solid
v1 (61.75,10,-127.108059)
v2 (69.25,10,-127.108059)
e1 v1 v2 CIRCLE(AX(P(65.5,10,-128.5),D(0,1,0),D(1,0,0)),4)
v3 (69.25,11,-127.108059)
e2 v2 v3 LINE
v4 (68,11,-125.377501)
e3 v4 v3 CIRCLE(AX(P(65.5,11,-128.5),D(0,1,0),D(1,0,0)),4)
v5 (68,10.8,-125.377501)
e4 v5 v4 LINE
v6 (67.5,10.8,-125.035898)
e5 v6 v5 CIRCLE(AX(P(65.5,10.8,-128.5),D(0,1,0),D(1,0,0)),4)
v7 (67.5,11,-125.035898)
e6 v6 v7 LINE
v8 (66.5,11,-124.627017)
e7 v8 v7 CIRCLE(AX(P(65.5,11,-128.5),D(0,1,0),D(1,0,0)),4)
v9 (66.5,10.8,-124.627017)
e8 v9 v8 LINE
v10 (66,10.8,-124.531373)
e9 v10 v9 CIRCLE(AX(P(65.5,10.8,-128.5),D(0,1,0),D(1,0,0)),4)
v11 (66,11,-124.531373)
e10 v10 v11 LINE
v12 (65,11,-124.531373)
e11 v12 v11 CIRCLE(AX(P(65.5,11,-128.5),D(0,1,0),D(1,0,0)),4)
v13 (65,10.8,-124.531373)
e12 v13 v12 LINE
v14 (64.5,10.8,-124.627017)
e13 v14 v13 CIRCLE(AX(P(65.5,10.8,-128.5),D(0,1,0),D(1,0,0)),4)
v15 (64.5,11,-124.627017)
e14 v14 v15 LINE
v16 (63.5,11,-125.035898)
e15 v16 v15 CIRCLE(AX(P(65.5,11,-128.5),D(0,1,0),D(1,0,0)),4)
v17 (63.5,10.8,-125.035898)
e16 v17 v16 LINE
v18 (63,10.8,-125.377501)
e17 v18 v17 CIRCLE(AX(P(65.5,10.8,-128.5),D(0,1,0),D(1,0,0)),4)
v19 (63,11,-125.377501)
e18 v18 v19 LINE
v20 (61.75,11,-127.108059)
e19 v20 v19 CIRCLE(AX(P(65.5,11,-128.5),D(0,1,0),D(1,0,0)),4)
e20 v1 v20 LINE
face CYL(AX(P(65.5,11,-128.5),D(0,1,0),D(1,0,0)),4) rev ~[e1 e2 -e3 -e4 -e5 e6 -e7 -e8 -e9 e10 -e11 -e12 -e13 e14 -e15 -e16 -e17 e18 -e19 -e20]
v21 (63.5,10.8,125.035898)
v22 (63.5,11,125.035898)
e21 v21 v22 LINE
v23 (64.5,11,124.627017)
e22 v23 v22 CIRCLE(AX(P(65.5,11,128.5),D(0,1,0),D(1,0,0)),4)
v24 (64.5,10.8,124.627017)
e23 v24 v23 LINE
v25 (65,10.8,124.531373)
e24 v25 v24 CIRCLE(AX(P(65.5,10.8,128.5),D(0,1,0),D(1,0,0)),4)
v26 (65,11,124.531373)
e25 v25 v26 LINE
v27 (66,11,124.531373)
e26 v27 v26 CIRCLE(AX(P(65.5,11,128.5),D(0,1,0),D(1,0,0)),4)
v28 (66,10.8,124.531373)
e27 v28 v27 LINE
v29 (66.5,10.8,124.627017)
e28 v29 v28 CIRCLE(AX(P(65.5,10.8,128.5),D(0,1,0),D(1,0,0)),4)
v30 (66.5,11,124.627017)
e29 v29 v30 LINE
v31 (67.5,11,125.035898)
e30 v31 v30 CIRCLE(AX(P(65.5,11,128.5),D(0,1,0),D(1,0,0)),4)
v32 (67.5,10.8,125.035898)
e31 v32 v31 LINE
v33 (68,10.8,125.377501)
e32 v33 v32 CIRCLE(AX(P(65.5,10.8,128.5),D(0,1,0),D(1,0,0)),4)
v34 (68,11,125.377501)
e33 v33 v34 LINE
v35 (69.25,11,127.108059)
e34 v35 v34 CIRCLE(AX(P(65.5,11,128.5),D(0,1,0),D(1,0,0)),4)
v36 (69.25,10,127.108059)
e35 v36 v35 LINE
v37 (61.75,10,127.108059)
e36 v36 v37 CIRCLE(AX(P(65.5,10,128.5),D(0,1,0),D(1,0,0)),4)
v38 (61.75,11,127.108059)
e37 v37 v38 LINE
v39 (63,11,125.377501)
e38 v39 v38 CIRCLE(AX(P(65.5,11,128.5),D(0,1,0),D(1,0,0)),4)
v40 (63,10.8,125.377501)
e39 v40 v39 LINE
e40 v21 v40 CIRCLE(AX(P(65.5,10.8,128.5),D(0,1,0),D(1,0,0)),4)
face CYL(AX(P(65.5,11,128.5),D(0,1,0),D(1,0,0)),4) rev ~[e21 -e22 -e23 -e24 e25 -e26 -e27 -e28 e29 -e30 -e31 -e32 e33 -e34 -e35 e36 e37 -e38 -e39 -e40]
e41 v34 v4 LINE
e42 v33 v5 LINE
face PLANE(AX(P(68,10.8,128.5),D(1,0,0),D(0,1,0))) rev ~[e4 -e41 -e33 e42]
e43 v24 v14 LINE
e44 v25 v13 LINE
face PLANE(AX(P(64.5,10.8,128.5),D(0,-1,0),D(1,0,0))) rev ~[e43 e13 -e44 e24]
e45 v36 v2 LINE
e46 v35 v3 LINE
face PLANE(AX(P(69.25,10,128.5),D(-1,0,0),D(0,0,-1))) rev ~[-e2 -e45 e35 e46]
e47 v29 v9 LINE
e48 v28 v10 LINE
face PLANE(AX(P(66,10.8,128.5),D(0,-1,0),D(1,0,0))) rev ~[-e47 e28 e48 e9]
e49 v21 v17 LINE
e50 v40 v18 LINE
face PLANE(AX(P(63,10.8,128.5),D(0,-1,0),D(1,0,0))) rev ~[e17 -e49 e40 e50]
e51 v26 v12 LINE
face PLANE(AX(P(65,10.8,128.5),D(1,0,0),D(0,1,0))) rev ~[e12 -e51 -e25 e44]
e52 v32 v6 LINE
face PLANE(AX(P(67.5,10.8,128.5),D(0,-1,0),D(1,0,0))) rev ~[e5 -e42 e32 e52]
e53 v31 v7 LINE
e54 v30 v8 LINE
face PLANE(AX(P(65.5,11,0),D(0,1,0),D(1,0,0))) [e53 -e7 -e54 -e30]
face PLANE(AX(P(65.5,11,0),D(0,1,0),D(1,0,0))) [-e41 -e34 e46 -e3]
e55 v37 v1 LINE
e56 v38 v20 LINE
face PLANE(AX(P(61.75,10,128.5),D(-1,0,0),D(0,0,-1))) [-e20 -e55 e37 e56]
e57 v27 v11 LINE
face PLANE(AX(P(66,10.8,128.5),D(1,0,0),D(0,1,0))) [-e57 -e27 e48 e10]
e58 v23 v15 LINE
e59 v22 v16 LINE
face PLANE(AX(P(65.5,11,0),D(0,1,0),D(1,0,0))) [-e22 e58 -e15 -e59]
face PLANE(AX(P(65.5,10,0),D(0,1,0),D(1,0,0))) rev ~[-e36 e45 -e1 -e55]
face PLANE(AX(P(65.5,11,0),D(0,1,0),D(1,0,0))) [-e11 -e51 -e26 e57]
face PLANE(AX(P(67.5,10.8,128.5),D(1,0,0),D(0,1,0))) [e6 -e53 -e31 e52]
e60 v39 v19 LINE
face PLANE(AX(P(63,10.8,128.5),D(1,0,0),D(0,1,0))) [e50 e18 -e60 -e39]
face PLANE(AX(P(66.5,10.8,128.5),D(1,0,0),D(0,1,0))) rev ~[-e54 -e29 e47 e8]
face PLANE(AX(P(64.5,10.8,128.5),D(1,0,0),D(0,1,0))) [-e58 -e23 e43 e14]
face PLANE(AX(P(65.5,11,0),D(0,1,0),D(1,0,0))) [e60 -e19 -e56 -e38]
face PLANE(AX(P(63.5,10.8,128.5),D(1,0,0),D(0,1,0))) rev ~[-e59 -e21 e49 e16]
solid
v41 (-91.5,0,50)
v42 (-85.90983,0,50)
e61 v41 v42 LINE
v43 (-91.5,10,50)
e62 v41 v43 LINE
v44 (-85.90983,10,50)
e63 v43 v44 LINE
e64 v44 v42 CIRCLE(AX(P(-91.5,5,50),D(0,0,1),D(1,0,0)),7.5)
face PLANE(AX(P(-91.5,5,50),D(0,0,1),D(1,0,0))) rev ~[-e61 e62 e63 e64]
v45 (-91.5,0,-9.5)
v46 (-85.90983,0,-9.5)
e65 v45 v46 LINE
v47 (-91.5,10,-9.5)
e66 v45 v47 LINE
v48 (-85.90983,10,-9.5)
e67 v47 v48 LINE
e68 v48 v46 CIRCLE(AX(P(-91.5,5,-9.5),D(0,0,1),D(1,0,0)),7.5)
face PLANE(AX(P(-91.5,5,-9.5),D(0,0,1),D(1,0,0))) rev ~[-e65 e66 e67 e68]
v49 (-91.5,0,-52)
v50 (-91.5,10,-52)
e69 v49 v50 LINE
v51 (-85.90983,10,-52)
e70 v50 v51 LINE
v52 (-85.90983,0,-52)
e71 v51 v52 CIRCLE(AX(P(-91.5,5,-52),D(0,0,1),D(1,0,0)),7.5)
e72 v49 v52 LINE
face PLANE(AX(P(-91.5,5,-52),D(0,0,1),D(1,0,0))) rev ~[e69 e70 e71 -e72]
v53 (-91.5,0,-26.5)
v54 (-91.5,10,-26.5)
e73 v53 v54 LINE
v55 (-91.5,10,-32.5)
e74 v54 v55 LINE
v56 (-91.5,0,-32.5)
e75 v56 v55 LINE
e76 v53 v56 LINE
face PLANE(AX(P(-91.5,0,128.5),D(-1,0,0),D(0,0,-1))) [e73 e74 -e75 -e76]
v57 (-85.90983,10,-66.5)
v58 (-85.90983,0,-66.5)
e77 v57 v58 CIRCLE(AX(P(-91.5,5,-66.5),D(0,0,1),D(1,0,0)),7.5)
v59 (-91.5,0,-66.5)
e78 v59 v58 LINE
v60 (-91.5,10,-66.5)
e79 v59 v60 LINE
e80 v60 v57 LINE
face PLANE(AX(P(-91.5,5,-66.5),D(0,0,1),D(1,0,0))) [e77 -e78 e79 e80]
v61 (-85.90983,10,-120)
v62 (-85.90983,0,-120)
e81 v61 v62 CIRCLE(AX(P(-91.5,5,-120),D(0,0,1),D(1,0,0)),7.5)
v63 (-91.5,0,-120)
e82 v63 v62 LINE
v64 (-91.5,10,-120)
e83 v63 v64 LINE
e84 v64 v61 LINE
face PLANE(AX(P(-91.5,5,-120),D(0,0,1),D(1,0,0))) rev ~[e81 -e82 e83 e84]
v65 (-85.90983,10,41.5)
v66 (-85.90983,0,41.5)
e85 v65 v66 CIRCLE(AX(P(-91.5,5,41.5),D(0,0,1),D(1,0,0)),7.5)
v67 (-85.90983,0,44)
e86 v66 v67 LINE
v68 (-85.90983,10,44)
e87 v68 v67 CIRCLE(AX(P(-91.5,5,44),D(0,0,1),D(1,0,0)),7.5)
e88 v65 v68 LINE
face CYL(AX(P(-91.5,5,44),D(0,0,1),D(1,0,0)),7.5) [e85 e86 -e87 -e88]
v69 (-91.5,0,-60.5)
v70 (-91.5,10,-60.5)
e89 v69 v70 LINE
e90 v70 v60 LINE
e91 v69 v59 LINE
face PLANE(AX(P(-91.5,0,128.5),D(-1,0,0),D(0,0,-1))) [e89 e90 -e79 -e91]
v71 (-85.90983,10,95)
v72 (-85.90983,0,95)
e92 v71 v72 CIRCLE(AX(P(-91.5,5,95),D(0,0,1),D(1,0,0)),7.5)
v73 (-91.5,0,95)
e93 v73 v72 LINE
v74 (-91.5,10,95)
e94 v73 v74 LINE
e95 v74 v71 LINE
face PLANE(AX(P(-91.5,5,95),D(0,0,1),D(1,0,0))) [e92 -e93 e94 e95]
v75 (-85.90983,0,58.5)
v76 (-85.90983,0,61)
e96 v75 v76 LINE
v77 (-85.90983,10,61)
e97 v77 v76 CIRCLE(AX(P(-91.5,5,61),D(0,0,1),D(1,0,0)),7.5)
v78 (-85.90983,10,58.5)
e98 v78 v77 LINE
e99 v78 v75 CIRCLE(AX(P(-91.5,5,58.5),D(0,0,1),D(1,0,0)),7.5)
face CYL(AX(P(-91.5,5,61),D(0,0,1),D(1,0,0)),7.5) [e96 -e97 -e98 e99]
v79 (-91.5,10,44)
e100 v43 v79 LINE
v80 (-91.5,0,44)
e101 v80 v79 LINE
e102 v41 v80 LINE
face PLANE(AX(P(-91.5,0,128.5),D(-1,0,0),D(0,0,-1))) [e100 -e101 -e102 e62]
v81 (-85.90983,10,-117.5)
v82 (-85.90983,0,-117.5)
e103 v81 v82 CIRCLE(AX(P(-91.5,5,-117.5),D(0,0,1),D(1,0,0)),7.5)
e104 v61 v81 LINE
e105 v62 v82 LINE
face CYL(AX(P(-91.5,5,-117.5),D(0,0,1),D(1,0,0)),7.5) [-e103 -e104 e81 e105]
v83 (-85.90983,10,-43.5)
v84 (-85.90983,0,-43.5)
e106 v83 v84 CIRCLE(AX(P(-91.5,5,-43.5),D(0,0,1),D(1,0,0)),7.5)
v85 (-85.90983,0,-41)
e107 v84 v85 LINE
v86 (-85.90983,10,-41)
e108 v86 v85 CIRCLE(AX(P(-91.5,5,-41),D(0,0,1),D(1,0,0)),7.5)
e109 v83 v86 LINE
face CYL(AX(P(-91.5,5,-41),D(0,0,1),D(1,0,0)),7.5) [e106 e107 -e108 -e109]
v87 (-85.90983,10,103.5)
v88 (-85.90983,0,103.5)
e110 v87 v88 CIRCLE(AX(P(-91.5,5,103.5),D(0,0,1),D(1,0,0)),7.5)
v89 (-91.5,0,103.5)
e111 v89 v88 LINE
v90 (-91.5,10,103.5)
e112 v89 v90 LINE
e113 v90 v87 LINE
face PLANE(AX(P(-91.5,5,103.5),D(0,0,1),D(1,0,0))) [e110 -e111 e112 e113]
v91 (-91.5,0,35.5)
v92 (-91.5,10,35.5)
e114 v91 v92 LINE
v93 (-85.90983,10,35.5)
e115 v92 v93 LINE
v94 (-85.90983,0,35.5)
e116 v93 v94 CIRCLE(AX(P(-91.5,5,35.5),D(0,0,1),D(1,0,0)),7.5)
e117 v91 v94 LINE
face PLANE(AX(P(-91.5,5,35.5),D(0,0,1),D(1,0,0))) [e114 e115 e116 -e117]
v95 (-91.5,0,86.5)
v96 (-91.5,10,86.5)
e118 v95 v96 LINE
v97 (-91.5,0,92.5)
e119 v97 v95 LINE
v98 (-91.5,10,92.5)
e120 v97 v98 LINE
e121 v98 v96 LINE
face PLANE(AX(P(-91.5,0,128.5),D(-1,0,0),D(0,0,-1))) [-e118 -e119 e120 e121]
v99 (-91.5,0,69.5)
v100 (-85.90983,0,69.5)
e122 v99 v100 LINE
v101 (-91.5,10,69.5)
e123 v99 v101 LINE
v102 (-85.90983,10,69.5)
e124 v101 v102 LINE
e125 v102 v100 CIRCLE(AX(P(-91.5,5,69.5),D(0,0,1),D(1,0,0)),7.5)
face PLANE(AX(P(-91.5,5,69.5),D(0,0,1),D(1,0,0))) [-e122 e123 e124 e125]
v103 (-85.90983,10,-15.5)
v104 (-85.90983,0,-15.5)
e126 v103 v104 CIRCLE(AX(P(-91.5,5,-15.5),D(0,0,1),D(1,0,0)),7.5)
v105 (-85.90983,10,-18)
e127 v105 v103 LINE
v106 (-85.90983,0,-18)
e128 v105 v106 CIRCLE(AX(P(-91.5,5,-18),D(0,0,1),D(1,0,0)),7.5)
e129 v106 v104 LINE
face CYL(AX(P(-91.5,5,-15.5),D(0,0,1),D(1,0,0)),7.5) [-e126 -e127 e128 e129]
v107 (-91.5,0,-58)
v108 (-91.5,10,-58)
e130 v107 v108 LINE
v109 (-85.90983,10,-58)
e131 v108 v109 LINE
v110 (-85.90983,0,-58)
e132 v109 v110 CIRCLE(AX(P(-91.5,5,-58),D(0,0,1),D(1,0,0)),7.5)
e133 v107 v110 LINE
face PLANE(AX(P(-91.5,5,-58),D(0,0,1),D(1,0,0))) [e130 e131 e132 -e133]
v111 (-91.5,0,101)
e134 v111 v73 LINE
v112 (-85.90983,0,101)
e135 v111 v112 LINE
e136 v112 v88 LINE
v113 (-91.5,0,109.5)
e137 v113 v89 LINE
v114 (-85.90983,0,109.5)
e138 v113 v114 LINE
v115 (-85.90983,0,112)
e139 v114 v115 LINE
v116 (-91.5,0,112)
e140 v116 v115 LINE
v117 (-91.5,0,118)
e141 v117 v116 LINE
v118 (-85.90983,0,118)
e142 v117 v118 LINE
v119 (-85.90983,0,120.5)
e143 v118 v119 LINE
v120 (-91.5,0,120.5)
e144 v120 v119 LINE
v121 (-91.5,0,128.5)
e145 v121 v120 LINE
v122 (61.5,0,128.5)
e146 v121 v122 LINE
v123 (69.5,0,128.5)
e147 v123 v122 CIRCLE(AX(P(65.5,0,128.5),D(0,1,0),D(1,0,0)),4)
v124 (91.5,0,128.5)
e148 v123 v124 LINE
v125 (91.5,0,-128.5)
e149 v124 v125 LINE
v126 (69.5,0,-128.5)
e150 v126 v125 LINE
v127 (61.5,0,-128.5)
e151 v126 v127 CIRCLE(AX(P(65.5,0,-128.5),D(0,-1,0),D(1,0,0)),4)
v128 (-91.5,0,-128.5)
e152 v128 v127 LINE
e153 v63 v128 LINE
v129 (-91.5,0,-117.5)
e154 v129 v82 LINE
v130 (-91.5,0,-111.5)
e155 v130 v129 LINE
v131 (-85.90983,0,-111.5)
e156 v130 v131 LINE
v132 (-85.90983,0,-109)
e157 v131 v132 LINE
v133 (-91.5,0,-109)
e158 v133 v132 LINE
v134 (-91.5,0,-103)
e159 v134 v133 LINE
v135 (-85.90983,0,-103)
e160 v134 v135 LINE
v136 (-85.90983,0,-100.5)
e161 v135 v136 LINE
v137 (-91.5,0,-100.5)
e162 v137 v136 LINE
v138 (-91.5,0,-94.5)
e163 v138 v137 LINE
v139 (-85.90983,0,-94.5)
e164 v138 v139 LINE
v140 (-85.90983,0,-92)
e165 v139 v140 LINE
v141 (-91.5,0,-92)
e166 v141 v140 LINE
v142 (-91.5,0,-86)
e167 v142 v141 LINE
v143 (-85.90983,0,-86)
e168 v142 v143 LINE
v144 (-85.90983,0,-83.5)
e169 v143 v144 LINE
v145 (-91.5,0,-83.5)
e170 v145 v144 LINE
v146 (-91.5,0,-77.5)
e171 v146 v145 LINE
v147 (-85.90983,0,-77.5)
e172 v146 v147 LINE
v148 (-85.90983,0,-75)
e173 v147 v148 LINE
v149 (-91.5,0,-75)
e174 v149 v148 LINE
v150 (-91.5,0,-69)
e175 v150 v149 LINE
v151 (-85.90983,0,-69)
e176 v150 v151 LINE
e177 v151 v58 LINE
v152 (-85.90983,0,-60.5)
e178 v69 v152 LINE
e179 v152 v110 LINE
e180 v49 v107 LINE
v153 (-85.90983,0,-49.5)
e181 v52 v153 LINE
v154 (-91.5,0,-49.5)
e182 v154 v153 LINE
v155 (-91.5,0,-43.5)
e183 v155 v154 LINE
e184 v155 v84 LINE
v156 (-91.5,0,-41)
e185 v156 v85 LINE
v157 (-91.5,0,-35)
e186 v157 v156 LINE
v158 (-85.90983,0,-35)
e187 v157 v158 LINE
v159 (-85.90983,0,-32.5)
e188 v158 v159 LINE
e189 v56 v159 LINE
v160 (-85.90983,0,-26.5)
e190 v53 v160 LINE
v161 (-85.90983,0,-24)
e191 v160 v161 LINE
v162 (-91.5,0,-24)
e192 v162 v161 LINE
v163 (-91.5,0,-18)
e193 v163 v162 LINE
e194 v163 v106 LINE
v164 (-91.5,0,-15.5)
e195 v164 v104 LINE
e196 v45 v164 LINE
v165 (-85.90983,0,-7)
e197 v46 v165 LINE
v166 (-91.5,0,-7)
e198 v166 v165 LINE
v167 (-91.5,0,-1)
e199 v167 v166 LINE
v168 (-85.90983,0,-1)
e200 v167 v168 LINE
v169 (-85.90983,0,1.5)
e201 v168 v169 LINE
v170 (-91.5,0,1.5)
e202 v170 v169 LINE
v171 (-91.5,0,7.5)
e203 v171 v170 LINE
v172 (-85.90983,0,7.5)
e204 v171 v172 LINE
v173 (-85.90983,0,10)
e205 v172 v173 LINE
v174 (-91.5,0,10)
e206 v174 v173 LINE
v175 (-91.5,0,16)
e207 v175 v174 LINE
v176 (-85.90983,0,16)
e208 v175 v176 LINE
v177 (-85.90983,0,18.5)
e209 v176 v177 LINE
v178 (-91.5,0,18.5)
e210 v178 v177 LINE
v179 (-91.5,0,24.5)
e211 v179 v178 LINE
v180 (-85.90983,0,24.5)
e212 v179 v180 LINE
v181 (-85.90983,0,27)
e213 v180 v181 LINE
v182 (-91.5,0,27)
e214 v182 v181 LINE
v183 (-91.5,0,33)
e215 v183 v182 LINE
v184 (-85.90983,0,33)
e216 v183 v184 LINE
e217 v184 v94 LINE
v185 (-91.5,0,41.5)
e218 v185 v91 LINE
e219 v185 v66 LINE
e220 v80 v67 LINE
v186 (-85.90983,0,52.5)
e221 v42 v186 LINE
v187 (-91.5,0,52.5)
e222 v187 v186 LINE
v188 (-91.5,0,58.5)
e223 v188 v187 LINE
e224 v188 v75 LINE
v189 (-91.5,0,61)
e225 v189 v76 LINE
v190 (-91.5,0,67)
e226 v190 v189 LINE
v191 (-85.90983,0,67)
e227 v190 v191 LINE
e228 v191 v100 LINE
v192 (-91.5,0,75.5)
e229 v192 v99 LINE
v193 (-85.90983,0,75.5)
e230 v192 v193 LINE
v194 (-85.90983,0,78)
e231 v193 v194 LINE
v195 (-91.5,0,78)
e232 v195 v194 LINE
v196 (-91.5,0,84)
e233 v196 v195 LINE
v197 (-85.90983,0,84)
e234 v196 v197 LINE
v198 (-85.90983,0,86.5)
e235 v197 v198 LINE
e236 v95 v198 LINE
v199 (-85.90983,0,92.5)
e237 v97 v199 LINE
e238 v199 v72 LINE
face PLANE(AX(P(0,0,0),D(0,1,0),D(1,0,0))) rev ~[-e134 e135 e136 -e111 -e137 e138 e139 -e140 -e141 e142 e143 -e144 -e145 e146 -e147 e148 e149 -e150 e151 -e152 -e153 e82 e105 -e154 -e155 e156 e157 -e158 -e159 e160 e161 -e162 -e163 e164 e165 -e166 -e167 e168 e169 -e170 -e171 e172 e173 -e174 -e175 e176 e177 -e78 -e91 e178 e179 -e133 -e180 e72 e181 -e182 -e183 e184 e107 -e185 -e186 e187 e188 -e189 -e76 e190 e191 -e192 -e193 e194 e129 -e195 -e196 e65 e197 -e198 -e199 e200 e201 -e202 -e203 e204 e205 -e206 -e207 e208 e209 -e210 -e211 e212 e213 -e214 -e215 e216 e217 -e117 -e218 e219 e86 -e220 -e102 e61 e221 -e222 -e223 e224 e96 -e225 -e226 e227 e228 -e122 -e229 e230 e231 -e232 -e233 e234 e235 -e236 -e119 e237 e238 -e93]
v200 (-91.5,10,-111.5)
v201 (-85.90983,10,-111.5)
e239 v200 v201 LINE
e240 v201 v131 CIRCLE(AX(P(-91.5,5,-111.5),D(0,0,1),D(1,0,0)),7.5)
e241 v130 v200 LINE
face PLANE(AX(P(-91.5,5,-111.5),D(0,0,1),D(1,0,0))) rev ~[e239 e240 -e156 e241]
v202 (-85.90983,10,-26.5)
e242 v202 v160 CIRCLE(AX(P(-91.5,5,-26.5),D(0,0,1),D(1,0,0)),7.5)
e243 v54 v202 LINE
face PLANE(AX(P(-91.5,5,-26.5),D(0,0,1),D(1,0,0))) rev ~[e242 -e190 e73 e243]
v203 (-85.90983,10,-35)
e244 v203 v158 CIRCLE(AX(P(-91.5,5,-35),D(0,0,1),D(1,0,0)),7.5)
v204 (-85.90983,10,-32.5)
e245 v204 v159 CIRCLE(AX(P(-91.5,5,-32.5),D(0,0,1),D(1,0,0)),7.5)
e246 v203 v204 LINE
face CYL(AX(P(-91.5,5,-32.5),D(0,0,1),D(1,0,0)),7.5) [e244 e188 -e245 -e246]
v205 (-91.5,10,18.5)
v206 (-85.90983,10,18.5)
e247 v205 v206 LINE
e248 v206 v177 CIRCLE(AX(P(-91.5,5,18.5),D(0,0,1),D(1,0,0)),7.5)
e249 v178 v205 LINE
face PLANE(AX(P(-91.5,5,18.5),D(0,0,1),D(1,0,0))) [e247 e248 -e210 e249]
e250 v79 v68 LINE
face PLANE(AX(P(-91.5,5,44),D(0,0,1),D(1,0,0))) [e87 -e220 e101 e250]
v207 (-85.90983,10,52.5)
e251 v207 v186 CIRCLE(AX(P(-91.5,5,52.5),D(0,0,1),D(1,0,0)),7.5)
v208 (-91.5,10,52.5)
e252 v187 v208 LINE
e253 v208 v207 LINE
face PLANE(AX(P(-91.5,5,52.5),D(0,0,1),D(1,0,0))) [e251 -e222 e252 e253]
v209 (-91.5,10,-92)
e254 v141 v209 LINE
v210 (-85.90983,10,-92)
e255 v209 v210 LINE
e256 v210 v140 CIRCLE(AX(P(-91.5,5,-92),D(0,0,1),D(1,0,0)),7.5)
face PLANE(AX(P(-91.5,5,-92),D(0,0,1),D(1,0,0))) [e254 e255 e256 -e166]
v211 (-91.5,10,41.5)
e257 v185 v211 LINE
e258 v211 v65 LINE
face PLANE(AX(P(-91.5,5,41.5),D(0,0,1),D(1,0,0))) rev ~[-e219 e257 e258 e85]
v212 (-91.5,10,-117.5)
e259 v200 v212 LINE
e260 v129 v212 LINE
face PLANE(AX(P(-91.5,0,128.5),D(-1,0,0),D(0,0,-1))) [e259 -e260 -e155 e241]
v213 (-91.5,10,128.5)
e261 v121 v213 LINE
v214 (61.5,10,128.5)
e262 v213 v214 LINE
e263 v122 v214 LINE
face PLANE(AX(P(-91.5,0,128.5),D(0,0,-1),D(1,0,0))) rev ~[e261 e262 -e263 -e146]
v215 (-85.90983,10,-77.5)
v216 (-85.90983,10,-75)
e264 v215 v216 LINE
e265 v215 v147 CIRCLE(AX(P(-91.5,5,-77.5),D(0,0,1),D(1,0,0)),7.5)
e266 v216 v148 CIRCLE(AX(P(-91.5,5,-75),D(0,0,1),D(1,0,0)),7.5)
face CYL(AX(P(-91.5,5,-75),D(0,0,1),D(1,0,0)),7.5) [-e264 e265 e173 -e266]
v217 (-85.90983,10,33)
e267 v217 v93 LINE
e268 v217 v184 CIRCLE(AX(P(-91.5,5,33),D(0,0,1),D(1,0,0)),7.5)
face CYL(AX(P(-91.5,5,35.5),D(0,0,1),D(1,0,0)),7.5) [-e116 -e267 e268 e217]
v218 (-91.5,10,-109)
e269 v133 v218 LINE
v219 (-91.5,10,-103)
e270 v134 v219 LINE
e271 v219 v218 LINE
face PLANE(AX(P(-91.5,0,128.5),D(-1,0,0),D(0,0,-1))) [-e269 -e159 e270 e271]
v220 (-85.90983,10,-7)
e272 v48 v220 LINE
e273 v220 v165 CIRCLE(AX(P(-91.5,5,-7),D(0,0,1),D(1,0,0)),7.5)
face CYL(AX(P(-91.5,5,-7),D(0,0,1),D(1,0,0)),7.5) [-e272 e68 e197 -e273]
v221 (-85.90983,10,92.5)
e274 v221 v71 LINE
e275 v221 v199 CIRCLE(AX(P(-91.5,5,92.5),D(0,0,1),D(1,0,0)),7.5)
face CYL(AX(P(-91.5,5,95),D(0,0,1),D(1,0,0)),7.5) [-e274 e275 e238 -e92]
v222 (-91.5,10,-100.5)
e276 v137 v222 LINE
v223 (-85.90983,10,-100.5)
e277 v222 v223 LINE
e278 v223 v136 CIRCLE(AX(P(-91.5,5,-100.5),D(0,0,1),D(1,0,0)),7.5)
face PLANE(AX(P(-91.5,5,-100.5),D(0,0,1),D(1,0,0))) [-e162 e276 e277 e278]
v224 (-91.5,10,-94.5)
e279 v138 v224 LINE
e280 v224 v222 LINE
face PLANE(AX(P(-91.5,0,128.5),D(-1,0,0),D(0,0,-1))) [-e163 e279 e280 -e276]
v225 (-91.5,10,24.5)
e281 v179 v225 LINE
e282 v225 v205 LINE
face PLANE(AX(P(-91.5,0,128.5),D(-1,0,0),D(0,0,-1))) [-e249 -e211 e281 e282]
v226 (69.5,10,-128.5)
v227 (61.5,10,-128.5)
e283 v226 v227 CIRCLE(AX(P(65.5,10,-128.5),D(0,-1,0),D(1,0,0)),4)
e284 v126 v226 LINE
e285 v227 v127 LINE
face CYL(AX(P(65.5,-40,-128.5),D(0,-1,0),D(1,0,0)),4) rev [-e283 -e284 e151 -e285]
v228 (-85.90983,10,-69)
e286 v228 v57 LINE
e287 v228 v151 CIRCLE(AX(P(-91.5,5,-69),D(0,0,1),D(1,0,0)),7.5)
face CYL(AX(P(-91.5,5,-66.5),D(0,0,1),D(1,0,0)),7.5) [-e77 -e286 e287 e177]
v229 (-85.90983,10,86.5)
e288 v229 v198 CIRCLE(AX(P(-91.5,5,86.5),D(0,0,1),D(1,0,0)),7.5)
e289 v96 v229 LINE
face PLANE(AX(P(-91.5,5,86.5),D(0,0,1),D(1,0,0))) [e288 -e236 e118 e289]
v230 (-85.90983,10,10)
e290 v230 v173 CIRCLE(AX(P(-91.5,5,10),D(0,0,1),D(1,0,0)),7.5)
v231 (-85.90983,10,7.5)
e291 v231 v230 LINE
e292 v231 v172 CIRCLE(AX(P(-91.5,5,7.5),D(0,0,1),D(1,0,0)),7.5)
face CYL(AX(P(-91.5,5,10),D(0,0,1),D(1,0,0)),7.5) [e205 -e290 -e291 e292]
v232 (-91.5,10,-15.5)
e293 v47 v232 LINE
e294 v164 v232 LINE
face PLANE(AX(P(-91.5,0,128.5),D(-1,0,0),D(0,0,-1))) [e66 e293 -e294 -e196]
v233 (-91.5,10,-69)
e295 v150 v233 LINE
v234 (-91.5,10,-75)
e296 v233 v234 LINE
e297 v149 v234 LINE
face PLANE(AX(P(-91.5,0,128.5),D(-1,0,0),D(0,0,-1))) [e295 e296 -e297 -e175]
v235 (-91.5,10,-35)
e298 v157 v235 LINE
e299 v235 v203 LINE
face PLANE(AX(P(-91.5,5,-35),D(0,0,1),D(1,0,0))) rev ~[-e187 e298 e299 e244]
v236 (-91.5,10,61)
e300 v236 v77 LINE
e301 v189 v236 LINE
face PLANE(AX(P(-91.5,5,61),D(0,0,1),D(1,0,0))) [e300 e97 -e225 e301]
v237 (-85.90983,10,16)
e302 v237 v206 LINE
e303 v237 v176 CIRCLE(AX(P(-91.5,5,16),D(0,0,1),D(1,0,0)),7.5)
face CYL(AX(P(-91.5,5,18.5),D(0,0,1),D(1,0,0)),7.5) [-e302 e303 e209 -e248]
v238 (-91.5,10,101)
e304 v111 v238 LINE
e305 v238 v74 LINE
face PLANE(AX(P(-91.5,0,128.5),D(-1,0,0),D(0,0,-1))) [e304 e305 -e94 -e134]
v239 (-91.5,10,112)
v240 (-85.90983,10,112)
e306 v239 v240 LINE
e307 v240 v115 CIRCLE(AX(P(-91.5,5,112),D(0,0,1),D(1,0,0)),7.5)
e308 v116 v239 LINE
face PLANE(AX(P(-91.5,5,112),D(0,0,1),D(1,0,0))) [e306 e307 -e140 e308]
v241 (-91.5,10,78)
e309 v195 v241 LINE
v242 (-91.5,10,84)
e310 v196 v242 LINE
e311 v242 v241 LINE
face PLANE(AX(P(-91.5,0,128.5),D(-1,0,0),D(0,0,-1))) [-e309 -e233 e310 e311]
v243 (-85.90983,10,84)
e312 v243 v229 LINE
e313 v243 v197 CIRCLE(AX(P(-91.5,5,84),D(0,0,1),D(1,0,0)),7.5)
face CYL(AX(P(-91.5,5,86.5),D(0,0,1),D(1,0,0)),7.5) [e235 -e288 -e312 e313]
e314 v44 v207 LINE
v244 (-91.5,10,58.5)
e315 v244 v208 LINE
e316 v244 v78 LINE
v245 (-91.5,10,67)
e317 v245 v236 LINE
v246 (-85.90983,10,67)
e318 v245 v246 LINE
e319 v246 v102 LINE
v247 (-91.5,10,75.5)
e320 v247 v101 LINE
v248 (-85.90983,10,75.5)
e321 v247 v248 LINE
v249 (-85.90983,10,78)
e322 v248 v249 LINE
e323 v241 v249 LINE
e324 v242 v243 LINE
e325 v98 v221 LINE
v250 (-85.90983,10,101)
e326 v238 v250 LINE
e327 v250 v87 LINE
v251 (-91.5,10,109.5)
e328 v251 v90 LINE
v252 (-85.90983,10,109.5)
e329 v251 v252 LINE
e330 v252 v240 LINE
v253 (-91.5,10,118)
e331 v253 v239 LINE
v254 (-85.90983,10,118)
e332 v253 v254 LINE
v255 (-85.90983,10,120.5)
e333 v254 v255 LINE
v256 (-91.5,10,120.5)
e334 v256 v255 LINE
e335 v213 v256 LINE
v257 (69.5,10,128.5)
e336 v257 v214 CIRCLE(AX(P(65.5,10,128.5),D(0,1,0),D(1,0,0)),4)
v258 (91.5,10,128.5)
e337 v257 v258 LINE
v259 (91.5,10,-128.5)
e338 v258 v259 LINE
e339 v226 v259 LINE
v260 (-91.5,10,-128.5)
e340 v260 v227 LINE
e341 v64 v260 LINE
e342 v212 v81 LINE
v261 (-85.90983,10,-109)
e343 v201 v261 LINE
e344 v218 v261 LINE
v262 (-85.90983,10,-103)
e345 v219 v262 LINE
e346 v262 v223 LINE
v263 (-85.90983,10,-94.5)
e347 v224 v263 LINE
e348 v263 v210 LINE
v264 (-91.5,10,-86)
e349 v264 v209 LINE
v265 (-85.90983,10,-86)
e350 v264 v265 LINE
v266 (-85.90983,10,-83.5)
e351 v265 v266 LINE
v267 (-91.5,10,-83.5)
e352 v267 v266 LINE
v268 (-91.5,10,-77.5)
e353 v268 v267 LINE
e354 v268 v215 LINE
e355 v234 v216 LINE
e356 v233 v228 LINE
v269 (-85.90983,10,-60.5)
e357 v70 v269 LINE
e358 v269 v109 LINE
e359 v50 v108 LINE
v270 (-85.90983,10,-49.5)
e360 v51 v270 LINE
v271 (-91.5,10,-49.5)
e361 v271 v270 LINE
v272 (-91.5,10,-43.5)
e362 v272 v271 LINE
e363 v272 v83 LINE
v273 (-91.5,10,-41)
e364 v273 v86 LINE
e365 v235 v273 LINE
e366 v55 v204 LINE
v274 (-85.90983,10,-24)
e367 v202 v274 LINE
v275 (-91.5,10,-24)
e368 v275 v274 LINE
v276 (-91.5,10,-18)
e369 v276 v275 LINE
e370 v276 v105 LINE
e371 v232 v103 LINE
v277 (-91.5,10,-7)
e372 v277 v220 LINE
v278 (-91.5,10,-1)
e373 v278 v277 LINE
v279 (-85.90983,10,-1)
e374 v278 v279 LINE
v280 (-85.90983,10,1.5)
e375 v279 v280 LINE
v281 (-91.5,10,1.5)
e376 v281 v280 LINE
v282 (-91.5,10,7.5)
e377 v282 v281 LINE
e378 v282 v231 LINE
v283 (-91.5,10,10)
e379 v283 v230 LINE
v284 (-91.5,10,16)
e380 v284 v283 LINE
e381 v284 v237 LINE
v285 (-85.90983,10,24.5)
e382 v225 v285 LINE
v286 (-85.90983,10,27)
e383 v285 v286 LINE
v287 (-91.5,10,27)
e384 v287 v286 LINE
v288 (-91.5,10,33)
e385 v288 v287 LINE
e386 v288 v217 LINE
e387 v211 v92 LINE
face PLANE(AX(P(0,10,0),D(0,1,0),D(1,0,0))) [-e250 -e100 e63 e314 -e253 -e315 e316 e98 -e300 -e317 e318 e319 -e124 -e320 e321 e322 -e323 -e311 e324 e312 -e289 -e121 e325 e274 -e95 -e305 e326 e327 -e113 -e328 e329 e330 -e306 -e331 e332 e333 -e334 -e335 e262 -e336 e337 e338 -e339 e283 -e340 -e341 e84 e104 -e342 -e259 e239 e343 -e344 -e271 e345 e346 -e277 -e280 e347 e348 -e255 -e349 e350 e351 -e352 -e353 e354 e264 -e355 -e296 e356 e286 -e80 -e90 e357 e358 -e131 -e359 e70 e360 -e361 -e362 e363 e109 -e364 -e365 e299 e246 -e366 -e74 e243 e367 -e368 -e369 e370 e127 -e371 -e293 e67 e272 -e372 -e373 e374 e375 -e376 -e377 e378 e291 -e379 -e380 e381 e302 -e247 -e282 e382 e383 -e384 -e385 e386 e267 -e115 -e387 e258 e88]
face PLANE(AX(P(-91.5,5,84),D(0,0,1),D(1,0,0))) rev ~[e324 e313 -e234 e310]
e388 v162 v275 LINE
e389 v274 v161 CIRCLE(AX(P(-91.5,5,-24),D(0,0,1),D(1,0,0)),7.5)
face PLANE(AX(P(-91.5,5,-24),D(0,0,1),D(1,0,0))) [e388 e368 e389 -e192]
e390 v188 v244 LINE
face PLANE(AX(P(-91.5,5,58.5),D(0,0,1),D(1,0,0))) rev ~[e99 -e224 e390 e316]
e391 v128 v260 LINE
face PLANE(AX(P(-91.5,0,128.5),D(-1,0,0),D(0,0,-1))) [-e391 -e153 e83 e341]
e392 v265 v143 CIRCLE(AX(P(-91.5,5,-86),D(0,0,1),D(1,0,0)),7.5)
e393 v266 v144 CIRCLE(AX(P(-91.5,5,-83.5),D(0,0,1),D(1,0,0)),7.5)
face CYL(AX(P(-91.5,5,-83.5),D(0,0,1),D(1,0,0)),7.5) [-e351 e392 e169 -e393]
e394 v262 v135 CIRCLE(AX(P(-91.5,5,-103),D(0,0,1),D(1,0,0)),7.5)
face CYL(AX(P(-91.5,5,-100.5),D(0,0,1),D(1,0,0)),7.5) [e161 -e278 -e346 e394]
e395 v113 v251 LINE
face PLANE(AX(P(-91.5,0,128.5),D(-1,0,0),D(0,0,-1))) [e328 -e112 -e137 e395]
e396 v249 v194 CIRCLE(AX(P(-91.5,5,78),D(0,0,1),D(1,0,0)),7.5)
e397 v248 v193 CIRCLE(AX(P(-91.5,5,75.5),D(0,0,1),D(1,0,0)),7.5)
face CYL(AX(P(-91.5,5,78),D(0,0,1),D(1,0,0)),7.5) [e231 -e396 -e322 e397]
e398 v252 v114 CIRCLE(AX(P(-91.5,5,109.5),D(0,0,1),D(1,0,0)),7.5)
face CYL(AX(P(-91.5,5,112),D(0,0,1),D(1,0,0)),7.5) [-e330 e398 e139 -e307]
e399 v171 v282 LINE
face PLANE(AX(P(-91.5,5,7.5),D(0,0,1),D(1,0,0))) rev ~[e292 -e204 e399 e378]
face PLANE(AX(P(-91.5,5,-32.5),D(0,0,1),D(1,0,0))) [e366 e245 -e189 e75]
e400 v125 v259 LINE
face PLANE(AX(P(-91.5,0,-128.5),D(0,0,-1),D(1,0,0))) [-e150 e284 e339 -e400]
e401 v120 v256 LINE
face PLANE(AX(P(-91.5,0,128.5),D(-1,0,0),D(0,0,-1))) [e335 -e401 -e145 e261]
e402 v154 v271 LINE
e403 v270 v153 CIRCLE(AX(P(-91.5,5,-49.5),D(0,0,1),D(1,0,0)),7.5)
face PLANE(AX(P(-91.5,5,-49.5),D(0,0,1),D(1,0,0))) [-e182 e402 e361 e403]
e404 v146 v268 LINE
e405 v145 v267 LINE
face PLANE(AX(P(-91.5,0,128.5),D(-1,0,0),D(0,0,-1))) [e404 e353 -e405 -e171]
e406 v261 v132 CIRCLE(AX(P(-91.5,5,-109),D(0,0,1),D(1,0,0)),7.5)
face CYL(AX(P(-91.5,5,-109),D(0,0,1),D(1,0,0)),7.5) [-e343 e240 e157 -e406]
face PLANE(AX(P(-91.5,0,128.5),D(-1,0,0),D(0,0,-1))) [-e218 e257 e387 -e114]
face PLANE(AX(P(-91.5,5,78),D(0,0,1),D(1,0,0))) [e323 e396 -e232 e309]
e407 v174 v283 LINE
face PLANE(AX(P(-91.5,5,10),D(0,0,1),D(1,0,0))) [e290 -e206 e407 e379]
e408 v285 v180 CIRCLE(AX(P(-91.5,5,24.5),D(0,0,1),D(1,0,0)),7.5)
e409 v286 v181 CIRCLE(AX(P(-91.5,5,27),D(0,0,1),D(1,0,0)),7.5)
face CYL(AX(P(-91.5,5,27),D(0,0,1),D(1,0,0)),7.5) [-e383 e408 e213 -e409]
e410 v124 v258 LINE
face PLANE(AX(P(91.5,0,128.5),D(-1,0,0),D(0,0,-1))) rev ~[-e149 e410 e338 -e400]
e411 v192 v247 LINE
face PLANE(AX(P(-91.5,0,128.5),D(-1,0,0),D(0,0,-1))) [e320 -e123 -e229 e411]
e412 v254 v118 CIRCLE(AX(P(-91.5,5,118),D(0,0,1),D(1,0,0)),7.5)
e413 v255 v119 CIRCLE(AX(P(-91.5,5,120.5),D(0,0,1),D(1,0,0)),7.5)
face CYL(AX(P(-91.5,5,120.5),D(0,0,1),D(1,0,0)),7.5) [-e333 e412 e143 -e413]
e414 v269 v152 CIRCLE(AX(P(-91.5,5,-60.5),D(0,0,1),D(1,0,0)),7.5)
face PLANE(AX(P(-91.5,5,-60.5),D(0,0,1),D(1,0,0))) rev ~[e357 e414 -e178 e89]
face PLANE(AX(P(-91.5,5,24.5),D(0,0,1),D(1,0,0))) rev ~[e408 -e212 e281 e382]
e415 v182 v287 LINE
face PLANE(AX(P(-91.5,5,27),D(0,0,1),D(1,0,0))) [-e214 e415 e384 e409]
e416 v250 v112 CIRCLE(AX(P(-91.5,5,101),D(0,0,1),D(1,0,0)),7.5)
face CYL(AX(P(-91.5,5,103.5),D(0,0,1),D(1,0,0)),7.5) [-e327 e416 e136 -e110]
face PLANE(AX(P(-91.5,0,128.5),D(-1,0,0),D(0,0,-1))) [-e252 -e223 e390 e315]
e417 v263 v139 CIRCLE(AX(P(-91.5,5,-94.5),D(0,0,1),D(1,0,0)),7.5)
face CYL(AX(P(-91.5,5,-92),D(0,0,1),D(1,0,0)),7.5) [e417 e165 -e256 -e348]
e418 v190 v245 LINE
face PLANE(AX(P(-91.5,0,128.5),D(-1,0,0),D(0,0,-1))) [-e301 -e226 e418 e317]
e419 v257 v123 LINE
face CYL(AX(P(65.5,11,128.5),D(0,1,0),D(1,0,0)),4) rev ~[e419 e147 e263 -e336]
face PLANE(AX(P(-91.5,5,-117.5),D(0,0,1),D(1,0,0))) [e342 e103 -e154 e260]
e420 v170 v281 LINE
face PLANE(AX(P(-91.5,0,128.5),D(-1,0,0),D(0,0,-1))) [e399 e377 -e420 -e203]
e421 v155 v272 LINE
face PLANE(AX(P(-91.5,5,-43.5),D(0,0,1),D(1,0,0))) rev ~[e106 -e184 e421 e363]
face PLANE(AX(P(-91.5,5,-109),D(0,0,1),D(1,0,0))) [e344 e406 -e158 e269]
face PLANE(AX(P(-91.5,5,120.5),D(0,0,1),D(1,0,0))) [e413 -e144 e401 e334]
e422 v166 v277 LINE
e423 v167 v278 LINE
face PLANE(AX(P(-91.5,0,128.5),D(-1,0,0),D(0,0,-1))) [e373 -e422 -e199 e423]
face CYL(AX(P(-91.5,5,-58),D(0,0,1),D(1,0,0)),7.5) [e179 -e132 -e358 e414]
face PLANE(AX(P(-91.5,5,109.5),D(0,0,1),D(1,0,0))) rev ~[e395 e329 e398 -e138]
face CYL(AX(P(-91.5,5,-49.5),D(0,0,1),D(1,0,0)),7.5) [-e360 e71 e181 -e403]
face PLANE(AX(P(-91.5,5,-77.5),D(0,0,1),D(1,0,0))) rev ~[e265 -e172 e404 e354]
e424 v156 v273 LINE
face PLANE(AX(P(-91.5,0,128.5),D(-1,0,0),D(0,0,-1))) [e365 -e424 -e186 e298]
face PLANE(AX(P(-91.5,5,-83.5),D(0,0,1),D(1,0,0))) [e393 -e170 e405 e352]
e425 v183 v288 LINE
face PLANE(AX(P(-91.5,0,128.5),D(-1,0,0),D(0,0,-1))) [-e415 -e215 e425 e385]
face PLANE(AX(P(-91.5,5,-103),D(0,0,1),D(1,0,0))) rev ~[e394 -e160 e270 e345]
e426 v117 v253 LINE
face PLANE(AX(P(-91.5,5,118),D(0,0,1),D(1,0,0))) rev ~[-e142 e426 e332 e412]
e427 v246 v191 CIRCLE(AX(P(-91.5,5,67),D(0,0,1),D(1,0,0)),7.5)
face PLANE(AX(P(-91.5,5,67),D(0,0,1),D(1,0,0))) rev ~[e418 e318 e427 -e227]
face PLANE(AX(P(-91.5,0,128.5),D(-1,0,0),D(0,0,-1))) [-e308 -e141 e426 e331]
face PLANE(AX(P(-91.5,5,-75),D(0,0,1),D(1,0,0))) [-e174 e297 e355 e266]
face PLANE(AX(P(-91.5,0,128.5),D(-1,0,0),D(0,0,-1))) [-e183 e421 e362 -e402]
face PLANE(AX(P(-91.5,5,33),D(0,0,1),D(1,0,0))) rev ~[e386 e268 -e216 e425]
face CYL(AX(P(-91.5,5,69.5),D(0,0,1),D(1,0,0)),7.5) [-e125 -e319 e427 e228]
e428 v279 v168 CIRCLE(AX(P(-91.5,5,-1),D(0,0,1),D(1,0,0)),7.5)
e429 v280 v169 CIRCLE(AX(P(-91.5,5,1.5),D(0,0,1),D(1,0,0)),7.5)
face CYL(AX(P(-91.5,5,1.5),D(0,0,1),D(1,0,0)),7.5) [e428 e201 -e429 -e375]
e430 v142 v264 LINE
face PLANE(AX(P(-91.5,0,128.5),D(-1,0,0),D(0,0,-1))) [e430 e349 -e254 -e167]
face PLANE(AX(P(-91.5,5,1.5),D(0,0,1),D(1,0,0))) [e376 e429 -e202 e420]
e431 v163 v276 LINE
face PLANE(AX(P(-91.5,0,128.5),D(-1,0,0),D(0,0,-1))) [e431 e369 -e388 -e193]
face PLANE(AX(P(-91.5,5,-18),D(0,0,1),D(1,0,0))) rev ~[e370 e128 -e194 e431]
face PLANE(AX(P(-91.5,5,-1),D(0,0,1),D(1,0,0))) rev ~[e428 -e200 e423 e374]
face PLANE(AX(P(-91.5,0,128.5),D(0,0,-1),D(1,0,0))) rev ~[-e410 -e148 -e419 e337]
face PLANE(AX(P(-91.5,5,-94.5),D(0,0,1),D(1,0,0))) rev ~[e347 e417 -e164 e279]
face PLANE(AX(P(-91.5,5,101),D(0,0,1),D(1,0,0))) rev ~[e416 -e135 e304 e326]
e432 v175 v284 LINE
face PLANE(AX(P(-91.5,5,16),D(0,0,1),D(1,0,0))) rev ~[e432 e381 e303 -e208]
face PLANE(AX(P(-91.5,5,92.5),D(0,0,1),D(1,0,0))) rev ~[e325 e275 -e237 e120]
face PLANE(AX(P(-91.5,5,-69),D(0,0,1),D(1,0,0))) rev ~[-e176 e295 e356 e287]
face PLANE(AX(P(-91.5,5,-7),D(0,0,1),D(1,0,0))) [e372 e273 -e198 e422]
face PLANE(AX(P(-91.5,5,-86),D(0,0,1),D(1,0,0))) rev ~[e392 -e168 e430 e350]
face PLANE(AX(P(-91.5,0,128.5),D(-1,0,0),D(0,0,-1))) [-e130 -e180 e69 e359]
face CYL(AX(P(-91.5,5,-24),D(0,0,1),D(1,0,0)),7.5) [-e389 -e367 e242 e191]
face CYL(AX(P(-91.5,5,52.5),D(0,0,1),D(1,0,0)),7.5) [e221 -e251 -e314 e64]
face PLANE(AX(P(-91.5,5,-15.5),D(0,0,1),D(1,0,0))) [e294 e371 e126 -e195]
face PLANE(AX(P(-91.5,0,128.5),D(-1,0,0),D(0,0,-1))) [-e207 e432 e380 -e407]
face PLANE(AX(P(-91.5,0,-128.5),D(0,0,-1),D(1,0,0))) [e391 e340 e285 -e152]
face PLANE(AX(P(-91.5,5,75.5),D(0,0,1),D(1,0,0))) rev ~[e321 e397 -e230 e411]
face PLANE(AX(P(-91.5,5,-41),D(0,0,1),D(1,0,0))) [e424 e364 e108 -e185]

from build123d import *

# Parameters (mm, degrees)
SKETCH_1_W               = 183
SKETCH_1_H               = 257
EXTRUDE_1_DEPTH          = 10
EXTRUDE_START            = -8
SKETCH_2_R               = 7.5
EXTRUDE_2_DEPTH          = 2.5
PATTERN_LINEAR_1_COUNT   = 29
PATTERN_LINEAR_1_PITCH   = 8.5
SKETCH_3_W               = 7.5
SKETCH_3_H               = 257
EXTRUDE_3_DEPTH          = 1
SKETCH_4_W               = 0.5
SKETCH_4_H               = 0.4
CUT_EXTRUDE_1_DEPTH      = 257
CUT_EXTRUDE_2_DEPTH      = 50
CUT_EXTRUDE_2_DEPTH_BACK = 50
SKETCH_5_R               = 4
SKETCH_6_R               = 4
CUT_EXTRUDE_3_DEPTH      = 1
SKETCH_7_R               = 4
CUT_EXTRUDE_4_DEPTH      = 50


with BuildPart() as part:
    # 스케치1 → 보스-돌출1 (new body)
    with BuildSketch(Plane(origin=(0, 0, 0), x_dir=(1, 0, 0), z_dir=(0, 1, 0))):
        Rectangle(SKETCH_1_W, SKETCH_1_H)
    extrude(amount=EXTRUDE_1_DEPTH)

    # 스케치2 → 보스-돌출2 (add)
    with BuildSketch(Plane.XY.offset(128.5).offset(EXTRUDE_START)):
        with Locations((-91.5, 5)):
            Circle(SKETCH_2_R)
    extrude_2 = extrude(amount=-EXTRUDE_2_DEPTH)

    # 선형 패턴1: 보스-돌출2 ×29
    with Locations(*[(0, 0, -i * PATTERN_LINEAR_1_PITCH) for i in range(1, PATTERN_LINEAR_1_COUNT)]):
        add(extrude_2)

    # 스케치5 → 컷-돌출2 (cut, two sides: drawn at the far end of the back side and taken through both)
    with BuildSketch(Plane(origin=(0, 10, 0), x_dir=(1, 0, 0), z_dir=(0, 1, 0)).offset(-CUT_EXTRUDE_2_DEPTH_BACK)):
        with Locations((65.5, 128.5)):
            Circle(SKETCH_5_R)
    extrude(amount=CUT_EXTRUDE_2_DEPTH + CUT_EXTRUDE_2_DEPTH_BACK, mode=Mode.SUBTRACT)


with BuildPart() as body_2:
    # 스케치3 → 보스-돌출3 (new body)
    with BuildSketch(Plane(origin=(0, 10, 0), x_dir=(1, 0, 0), z_dir=(0, 1, 0))):
        with Locations((65.5, 0)):
            Rectangle(SKETCH_3_W, SKETCH_3_H)
    extrude(amount=EXTRUDE_3_DEPTH)

    # 스케치4 → 컷-돌출1 (cut)
    with BuildSketch(Plane.XY.offset(128.5)):
        with Locations((63.25, 11)):
            Rectangle(SKETCH_4_W, SKETCH_4_H)
        with Locations((64.75, 11)):
            Rectangle(SKETCH_4_W, SKETCH_4_H)
        with Locations((66.25, 11)):
            Rectangle(SKETCH_4_W, SKETCH_4_H)
        with Locations((67.75, 11)):
            Rectangle(SKETCH_4_W, SKETCH_4_H)
    extrude(amount=-CUT_EXTRUDE_1_DEPTH, mode=Mode.SUBTRACT)

    # 스케치6 → 컷-돌출3 (cut)
    with BuildSketch(Plane(origin=(0, 11, 0), x_dir=(1, 0, 0), z_dir=(0, 1, 0))):
        with Locations((65.5, 128.5)):
            Circle(SKETCH_6_R)
    extrude(amount=-CUT_EXTRUDE_3_DEPTH, mode=Mode.SUBTRACT)


with BuildPart() as cut_extrude_4_tool:
    # 스케치7 → 컷-돌출4 (new body)
    with BuildSketch(Plane(origin=(0, 11, 0), x_dir=(1, 0, 0), z_dir=(0, 1, 0))):
        with Locations((65.5, -128.5)):
            Circle(SKETCH_7_R)
    extrude(amount=-CUT_EXTRUDE_4_DEPTH)


with BuildPart() as part_1:
    add(part.part)

    # 컷-돌출4: cut by cut_extrude_4_tool
    add(cut_extrude_4_tool.part, mode=Mode.SUBTRACT)


with BuildPart() as body_2_1:
    add(body_2.part)

    # 컷-돌출4: cut by cut_extrude_4_tool
    add(cut_extrude_4_tool.part, mode=Mode.SUBTRACT)


solid = Compound([part_1.part, body_2_1.part])
